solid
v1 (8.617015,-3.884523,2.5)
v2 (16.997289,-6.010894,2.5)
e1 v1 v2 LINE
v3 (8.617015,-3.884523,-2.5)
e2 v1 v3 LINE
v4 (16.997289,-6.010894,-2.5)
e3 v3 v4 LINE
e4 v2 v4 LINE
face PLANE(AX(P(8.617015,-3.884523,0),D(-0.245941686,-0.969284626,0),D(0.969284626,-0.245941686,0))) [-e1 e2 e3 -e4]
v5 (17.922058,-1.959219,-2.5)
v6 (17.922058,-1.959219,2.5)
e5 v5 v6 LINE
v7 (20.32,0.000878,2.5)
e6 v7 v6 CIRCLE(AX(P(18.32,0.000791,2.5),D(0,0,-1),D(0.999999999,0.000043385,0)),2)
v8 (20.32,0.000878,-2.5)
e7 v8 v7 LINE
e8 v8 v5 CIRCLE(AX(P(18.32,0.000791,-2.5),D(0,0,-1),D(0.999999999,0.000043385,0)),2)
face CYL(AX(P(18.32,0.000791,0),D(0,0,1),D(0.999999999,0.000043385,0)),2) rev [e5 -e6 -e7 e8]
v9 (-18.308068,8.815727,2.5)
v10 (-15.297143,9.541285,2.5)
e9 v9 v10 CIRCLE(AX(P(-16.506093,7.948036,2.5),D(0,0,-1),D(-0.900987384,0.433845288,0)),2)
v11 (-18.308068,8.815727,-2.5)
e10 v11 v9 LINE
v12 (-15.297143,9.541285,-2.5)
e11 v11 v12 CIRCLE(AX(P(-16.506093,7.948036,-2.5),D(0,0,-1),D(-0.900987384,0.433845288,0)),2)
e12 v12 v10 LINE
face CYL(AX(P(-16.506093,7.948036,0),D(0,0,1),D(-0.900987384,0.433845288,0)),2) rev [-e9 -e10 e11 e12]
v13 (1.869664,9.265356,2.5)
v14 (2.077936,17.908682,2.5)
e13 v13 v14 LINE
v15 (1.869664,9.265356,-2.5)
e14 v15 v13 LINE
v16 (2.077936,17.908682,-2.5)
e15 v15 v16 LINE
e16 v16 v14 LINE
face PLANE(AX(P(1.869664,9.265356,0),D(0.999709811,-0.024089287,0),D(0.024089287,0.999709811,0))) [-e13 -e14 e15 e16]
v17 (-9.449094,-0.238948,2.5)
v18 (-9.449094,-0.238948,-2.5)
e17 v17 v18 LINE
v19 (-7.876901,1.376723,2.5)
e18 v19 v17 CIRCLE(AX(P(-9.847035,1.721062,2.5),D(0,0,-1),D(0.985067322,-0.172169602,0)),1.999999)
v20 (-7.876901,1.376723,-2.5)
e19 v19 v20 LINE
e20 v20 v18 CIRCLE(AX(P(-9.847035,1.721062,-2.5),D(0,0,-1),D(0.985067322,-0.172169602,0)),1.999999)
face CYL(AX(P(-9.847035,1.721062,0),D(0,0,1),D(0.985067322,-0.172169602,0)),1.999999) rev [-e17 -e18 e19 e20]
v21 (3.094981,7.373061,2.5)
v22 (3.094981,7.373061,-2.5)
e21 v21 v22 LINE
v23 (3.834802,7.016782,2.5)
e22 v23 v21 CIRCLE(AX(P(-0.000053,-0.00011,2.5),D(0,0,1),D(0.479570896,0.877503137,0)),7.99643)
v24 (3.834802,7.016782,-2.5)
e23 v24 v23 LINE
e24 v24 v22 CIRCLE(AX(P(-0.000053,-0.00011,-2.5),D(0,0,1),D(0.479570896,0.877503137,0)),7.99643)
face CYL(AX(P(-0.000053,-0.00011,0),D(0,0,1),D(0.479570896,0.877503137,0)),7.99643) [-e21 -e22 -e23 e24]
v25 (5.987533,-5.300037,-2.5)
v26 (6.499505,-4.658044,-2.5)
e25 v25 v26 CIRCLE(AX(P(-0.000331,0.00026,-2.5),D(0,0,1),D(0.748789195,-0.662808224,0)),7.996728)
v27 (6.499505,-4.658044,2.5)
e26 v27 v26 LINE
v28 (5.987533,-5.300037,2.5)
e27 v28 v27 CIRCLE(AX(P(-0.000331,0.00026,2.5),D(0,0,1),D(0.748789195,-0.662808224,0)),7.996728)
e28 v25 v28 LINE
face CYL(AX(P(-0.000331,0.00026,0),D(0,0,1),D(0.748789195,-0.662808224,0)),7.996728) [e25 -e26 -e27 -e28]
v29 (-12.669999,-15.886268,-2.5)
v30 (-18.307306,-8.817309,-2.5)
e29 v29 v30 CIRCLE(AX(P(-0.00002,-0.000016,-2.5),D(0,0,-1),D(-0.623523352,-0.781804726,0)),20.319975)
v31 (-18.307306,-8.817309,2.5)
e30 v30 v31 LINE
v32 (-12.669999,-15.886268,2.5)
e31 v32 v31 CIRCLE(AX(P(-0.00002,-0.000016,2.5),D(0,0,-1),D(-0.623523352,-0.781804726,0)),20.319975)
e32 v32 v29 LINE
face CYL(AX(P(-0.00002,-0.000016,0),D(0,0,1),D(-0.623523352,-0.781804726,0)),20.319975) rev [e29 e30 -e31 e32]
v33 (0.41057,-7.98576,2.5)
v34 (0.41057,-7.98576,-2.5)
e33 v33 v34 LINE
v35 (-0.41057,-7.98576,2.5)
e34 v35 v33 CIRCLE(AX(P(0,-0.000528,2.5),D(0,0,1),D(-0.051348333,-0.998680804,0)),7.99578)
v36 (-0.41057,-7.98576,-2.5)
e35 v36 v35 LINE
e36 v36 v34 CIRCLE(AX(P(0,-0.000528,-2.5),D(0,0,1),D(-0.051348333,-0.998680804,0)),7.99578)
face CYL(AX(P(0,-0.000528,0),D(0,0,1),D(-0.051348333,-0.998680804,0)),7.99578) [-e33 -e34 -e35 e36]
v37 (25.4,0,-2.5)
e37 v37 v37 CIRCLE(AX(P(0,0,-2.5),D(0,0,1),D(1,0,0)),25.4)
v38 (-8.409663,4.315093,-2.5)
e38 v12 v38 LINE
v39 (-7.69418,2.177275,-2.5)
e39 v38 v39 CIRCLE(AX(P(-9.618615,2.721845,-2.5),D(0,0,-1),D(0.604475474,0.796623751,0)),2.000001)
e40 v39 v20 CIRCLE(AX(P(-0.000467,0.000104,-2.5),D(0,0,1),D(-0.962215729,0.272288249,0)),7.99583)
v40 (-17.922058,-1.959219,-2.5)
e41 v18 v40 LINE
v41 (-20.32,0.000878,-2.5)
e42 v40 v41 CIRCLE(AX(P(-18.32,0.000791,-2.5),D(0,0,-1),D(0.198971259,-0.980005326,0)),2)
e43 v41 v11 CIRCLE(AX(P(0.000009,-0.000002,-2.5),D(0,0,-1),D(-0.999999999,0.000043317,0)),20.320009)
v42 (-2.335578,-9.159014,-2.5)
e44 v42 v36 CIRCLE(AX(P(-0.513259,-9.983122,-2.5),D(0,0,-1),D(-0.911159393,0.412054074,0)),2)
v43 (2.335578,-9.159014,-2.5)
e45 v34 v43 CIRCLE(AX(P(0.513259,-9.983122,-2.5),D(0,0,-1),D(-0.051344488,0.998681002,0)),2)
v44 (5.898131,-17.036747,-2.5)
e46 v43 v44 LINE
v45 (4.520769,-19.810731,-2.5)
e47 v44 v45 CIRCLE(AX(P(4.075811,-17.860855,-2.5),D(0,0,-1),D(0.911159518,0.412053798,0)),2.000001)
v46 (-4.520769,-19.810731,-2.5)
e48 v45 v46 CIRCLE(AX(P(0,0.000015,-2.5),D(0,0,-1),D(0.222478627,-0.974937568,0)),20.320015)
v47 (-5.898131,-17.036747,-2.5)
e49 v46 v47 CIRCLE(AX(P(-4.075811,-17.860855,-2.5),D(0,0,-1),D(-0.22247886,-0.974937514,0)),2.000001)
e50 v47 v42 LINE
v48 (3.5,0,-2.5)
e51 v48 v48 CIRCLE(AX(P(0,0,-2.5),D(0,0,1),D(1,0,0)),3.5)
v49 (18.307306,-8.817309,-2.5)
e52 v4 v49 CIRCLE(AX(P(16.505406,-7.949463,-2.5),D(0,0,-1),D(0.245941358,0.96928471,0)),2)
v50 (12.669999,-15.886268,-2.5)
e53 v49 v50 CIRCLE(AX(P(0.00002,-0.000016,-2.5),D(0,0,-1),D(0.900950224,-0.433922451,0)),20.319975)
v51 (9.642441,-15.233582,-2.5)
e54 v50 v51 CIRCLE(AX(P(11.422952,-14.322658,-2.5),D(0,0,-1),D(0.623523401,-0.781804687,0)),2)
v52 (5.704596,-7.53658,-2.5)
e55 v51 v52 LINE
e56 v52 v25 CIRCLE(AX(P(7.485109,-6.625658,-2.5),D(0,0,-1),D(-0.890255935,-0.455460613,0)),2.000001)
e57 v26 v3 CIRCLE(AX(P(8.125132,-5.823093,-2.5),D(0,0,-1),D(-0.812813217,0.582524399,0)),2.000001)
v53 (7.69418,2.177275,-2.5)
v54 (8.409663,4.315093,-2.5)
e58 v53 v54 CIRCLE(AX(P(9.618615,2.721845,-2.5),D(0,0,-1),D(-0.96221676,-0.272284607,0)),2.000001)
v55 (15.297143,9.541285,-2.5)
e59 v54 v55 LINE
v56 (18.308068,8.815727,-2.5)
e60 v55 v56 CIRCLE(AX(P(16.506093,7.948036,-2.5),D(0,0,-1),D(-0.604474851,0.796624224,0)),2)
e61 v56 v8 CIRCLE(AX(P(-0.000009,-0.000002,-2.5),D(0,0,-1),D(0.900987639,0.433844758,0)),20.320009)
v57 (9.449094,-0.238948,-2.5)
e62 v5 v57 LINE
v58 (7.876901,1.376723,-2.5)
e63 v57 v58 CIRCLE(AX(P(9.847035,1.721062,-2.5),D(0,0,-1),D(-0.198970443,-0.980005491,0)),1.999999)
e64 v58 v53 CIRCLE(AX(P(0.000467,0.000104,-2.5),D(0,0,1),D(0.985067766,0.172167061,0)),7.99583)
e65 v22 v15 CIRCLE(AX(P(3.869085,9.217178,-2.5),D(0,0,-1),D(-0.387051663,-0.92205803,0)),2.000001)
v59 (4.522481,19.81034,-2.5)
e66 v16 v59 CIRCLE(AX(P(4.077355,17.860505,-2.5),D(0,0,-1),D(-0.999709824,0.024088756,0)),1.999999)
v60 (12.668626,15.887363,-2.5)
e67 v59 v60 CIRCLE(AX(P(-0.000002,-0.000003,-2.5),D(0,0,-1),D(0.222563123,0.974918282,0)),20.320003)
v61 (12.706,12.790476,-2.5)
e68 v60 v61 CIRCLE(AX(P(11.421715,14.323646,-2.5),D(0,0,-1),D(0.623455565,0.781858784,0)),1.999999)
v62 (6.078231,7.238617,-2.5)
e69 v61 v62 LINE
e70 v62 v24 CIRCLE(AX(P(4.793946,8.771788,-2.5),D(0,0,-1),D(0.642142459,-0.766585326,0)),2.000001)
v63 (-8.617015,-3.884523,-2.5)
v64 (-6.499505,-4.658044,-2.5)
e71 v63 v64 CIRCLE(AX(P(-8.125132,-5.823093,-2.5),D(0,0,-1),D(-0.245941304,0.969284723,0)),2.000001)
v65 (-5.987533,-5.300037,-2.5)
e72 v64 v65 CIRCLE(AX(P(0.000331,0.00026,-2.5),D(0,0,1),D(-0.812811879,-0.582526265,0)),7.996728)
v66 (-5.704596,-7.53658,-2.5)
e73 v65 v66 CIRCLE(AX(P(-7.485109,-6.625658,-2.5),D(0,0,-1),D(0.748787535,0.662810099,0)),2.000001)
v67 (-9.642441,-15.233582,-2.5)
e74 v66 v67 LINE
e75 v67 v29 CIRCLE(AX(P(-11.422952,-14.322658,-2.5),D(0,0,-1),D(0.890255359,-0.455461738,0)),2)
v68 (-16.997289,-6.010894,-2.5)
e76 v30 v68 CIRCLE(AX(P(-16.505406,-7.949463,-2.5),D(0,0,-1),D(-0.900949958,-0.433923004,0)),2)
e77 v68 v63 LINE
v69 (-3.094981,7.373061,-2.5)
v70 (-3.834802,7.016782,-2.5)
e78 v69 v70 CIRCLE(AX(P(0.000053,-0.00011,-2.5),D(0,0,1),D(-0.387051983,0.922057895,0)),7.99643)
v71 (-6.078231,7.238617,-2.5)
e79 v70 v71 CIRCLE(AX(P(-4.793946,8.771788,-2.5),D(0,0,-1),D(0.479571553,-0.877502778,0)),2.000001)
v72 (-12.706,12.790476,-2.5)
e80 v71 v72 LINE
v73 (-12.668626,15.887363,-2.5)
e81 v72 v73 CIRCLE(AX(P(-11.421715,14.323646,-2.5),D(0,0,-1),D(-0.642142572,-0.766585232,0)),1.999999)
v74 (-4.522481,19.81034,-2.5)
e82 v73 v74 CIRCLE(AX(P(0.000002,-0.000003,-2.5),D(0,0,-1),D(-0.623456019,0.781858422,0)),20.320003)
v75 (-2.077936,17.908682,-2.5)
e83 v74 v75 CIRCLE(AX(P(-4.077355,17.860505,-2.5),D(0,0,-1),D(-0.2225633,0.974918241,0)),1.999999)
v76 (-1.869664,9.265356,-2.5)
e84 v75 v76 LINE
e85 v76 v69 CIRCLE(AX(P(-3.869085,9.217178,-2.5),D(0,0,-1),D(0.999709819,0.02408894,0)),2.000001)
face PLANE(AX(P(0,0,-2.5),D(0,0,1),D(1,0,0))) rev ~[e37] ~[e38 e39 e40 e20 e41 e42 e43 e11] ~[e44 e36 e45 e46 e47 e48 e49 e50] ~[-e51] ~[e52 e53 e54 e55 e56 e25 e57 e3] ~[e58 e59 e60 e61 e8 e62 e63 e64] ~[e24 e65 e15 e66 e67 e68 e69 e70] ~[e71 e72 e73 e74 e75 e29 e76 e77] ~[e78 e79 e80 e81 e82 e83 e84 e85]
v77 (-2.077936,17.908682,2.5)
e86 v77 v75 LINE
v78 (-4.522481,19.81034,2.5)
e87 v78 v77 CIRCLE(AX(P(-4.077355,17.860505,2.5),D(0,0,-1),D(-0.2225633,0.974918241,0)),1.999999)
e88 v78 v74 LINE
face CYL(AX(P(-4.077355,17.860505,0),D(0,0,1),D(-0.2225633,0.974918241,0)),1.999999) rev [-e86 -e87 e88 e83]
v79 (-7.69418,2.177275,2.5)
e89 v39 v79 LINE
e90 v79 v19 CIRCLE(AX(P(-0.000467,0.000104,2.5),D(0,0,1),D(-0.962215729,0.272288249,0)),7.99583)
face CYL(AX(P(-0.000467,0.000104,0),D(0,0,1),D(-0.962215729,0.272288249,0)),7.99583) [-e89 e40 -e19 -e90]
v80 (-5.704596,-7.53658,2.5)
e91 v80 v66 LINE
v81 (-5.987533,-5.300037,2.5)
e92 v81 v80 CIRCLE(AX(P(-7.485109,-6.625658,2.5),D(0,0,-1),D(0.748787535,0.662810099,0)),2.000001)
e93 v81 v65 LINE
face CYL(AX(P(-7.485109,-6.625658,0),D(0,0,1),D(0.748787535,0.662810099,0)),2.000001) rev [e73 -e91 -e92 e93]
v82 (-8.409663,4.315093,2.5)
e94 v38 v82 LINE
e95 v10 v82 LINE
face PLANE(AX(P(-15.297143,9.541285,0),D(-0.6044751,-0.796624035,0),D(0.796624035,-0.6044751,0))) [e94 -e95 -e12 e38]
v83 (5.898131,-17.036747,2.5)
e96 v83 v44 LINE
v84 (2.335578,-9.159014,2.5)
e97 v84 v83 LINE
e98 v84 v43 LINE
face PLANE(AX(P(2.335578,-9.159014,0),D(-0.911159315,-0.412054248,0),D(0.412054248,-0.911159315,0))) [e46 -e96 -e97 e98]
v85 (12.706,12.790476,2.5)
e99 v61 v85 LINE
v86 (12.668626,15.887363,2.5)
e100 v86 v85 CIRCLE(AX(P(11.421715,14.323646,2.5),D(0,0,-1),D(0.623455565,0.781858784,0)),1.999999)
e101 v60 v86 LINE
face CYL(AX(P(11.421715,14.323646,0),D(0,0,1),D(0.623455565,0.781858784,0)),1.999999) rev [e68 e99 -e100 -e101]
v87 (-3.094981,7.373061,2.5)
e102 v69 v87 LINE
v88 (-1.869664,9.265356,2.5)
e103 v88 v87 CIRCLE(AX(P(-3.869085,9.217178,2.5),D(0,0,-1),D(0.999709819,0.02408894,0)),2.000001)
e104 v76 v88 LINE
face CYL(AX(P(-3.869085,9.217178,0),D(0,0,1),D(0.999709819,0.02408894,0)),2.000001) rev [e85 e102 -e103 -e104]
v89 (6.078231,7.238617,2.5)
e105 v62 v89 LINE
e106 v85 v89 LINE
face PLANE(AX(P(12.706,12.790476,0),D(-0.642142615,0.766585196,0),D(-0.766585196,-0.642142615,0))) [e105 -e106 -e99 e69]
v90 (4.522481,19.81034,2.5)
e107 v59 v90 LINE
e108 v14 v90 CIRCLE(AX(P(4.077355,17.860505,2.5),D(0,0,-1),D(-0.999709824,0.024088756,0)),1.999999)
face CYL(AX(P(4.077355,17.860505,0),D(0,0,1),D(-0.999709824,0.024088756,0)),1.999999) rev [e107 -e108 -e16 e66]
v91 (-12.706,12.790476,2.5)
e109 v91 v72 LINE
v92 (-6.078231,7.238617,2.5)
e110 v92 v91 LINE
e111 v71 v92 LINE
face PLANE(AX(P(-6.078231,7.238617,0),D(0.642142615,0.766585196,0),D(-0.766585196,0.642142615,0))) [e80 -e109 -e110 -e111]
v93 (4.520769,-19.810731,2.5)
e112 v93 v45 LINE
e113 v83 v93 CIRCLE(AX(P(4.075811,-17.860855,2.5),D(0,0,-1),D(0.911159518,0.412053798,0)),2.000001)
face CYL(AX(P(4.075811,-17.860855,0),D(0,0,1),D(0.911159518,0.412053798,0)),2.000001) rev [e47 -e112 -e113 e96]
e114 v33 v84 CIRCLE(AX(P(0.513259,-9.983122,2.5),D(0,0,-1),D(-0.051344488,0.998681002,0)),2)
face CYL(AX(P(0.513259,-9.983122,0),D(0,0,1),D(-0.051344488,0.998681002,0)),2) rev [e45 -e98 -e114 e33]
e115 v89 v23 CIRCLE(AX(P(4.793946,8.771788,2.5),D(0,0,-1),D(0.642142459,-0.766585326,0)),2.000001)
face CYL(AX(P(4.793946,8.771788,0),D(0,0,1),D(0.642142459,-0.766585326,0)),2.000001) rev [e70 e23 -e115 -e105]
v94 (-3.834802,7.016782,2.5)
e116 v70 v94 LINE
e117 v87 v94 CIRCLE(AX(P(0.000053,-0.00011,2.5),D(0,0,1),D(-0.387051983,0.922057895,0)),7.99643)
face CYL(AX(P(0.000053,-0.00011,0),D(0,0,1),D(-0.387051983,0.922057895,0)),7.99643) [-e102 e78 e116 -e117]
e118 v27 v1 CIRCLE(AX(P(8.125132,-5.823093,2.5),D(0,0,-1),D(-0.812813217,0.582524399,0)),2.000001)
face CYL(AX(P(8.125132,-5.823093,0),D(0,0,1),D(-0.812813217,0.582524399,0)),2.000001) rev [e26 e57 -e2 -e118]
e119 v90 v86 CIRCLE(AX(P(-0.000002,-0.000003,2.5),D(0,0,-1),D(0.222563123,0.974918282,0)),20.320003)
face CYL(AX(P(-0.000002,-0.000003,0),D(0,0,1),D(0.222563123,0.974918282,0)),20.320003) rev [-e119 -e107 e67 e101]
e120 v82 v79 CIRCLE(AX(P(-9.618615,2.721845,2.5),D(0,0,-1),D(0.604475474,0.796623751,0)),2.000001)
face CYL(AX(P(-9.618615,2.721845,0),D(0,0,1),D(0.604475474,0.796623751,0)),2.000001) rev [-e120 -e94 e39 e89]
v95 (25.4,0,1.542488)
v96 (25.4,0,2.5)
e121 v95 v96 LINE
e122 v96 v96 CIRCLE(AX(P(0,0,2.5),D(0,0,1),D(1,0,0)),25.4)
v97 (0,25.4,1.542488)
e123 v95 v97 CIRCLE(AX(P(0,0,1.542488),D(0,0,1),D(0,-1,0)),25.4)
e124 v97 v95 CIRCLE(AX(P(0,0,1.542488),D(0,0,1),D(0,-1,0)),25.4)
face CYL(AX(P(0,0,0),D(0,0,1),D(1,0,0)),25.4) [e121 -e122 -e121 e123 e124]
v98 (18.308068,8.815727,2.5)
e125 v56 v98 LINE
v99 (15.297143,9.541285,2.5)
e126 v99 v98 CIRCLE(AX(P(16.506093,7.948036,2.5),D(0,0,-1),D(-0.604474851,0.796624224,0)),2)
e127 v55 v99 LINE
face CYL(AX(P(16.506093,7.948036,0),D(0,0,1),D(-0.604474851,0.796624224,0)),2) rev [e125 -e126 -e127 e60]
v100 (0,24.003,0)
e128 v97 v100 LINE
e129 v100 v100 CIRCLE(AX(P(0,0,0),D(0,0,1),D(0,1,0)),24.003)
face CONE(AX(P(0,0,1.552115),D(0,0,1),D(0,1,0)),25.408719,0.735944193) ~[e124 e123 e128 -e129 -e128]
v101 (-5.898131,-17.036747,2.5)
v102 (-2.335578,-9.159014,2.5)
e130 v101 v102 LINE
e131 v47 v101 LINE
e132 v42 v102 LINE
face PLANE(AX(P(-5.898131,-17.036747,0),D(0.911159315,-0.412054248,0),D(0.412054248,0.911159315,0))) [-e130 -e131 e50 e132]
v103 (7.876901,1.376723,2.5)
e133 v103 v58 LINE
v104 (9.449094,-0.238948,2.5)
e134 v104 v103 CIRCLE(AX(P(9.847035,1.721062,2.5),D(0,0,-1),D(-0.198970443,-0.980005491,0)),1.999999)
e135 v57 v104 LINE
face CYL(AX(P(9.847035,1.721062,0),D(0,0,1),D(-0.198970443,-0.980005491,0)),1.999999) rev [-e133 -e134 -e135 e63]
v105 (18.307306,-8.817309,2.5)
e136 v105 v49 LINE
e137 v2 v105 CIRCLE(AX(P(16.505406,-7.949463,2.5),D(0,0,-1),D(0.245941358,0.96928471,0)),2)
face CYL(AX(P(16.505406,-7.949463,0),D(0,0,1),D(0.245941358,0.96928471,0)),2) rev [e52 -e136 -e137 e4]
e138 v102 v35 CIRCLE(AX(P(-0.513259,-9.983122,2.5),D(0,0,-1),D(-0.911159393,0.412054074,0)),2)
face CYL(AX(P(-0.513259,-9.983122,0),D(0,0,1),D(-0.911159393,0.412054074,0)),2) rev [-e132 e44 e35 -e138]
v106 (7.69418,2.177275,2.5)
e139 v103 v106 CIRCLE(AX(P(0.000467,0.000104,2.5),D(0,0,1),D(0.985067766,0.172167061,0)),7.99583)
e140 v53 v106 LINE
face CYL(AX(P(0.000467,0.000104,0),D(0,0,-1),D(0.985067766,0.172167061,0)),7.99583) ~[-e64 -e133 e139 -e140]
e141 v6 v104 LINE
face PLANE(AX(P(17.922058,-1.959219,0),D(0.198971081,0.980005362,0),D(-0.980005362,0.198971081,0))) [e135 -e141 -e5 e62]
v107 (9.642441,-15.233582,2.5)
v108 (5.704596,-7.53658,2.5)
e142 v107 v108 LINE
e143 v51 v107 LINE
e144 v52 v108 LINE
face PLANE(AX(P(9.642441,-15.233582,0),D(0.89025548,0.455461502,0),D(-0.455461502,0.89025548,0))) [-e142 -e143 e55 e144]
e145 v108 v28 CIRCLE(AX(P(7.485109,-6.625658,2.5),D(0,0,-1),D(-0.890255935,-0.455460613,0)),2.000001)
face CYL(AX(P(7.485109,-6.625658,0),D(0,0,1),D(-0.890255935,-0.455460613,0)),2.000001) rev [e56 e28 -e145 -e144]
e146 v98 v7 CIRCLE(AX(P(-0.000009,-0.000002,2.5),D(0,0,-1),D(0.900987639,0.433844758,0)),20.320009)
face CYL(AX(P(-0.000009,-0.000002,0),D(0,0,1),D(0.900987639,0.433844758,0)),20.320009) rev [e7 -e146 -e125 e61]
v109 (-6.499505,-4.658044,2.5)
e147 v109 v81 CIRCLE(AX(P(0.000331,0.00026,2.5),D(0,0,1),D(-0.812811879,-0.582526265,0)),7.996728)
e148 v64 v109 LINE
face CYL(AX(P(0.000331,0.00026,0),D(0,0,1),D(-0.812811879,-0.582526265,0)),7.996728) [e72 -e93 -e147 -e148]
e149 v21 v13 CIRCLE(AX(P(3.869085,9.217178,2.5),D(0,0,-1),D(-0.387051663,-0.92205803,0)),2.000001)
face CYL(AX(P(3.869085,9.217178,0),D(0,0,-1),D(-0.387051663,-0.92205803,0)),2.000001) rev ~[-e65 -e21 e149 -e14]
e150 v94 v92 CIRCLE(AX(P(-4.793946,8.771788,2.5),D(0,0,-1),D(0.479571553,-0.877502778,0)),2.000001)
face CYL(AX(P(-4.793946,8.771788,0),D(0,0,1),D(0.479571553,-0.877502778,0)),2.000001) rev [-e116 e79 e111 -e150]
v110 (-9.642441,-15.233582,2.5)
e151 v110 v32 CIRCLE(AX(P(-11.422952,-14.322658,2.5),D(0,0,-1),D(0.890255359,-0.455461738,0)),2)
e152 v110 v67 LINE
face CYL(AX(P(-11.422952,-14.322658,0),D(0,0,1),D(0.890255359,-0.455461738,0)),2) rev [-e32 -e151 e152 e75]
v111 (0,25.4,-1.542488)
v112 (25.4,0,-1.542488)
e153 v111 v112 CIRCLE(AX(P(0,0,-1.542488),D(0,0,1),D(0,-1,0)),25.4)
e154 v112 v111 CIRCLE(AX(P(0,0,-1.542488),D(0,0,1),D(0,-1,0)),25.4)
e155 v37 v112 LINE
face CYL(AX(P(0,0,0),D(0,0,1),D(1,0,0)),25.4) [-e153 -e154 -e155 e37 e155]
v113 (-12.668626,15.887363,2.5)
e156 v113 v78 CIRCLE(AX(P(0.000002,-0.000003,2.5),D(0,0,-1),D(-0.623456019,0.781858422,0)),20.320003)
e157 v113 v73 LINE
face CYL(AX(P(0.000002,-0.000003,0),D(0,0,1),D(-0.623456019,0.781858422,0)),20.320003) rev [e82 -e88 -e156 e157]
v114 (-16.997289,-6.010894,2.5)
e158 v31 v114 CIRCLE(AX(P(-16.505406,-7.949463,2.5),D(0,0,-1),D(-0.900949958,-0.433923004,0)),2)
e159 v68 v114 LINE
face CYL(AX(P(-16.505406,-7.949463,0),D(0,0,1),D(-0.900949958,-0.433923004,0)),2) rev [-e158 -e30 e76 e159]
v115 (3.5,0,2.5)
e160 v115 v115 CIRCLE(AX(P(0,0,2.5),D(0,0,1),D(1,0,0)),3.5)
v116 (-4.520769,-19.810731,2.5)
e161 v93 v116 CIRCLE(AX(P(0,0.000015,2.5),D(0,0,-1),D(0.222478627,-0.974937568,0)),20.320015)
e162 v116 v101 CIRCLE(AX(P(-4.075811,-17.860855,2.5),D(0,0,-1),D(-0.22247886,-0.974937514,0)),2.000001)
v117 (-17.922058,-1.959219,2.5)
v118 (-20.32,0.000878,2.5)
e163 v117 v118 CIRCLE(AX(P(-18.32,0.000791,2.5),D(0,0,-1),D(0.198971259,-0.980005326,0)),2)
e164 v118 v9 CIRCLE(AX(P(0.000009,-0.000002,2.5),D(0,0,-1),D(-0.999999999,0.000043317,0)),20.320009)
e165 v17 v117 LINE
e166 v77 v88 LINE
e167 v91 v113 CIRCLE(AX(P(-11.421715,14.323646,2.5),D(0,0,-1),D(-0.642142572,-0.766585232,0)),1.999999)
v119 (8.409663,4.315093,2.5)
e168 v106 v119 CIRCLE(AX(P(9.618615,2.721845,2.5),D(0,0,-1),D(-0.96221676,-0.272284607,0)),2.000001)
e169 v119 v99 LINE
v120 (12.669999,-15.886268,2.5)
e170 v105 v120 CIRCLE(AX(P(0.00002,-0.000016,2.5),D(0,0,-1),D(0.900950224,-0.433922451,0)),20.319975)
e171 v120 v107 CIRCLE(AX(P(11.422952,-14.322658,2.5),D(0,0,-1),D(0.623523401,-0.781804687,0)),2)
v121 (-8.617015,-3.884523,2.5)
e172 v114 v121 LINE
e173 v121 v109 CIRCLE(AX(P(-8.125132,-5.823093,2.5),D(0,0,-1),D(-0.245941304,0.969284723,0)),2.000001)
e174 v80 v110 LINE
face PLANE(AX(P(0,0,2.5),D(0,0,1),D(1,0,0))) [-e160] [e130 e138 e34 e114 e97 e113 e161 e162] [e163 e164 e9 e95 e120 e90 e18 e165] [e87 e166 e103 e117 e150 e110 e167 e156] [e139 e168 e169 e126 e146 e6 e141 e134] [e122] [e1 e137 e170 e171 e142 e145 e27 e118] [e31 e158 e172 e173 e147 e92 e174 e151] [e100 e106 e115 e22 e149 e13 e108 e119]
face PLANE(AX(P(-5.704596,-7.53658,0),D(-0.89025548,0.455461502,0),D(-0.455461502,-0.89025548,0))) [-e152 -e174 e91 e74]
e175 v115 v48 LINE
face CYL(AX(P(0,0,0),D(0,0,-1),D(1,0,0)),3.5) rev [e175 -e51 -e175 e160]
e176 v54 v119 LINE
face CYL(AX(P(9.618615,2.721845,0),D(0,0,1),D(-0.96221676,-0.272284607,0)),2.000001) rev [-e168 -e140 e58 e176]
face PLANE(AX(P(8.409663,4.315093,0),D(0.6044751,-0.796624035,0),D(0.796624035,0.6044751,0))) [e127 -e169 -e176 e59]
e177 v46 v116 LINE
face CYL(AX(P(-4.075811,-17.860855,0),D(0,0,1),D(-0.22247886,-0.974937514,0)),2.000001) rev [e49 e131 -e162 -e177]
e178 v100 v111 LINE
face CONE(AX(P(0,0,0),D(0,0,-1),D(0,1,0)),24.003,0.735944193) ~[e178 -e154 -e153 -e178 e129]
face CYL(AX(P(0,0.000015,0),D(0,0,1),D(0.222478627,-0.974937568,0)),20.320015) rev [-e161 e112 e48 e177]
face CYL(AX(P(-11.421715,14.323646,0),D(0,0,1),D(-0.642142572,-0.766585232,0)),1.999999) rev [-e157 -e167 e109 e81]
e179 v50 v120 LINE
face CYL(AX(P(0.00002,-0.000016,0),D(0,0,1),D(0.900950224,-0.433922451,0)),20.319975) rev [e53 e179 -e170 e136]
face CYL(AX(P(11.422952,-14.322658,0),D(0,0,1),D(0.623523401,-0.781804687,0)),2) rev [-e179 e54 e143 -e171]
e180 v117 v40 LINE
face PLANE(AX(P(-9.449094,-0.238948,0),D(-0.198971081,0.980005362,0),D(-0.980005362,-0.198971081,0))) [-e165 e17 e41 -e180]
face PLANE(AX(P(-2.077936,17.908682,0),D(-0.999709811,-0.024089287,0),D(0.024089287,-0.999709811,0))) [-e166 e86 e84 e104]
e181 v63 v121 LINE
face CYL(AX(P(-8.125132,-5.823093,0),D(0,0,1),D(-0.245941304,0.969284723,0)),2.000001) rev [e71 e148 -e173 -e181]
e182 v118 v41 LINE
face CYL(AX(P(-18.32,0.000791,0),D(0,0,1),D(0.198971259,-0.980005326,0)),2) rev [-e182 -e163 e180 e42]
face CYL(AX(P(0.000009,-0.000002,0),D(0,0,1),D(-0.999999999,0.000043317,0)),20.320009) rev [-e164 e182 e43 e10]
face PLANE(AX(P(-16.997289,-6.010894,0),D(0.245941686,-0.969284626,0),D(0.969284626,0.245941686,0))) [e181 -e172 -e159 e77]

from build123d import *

# Parameters (mm, degrees)
F0_R     = 25.4
F0_R_2   = 3.5
F1_DEPTH = 2.5


with BuildPart() as f1:
    # F0 (on Top) → F1 (new body, symmetric)
    with BuildSketch(Plane.XY):
        Circle(F0_R)
        with BuildLine():
            ThreePointArc((-4.520769, -19.810731), (-5.867147, -18.750304), (-5.898131, -17.036747))
            Line((-5.898131, -17.036747), (-2.335578, -9.159014))
            ThreePointArc((-2.335578, -9.159014), (-1.55413, -8.27532), (-0.41057, -7.98576))
            ThreePointArc((-0.41057, -7.98576), (0, -7.996308), (0.41057, -7.98576))
            ThreePointArc((0.41057, -7.98576), (1.55413, -8.27532), (2.335578, -9.159014))
            Line((2.335578, -9.159014), (5.898131, -17.036747))
            ThreePointArc((5.898131, -17.036747), (5.867147, -18.750304), (4.520769, -19.810731))
            ThreePointArc((4.520769, -19.810731), (0, -20.32), (-4.520769, -19.810731))
        make_face(mode=Mode.SUBTRACT)
        with BuildLine():
            ThreePointArc((-18.307306, -8.817309), (-18.317684, -7.103503), (-16.997289, -6.010894))
            Line((-16.997289, -6.010894), (-8.617015, -3.884523))
            ThreePointArc((-8.617015, -3.884523), (-7.43889, -3.94451), (-6.499505, -4.658044))
            ThreePointArc((-6.499505, -4.658044), (-6.251765, -4.985616), (-5.987533, -5.300037))
            ThreePointArc((-5.987533, -5.300037), (-5.500922, -6.374646), (-5.704596, -7.53658))
            Line((-5.704596, -7.53658), (-9.642441, -15.233582))
            ThreePointArc((-9.642441, -15.233582), (-11.001472, -16.277743), (-12.669999, -15.886268))
            ThreePointArc((-12.669999, -15.886268), (-15.886816, -12.669313), (-18.307306, -8.817309))
        make_face(mode=Mode.SUBTRACT)
        Circle(F0_R_2, mode=Mode.SUBTRACT)
        with BuildLine():
            ThreePointArc((12.669999, -15.886268), (11.001472, -16.277743), (9.642441, -15.233582))
            Line((9.642441, -15.233582), (5.704596, -7.53658))
            ThreePointArc((5.704596, -7.53658), (5.500922, -6.374646), (5.987533, -5.300037))
            ThreePointArc((5.987533, -5.300037), (6.251765, -4.985616), (6.499505, -4.658044))
            ThreePointArc((6.499505, -4.658044), (7.43889, -3.94451), (8.617015, -3.884523))
            Line((8.617015, -3.884523), (16.997289, -6.010894))
            ThreePointArc((16.997289, -6.010894), (18.317684, -7.103503), (18.307306, -8.817309))
            ThreePointArc((18.307306, -8.817309), (15.886816, -12.669313), (12.669999, -15.886268))
        make_face(mode=Mode.SUBTRACT)
        with BuildLine():
            ThreePointArc((-18.308068, 8.815727), (-16.974632, 9.89238), (-15.297143, 9.541285))
            Line((-15.297143, 9.541285), (-8.409663, 4.315093))
            ThreePointArc((-8.409663, 4.315093), (-7.722014, 3.356597), (-7.69418, 2.177275))
            ThreePointArc((-7.69418, 2.177275), (-7.795824, 1.779346), (-7.876901, 1.376723))
            ThreePointArc((-7.876901, 1.376723), (-8.413667, 0.326267), (-9.449094, -0.238948))
            Line((-9.449094, -0.238948), (-17.922058, -1.959219))
            ThreePointArc((-17.922058, -1.959219), (-19.585758, -1.54771), (-20.32, 0.000878))
            ThreePointArc((-20.32, 0.000878), (-19.810535, 4.521625), (-18.308068, 8.815727))
        make_face(mode=Mode.SUBTRACT)
        with BuildLine():
            ThreePointArc((-1.869664, 9.265356), (-2.190304, 8.130118), (-3.094981, 7.373061))
            ThreePointArc((-3.094981, 7.373061), (-3.469468, 7.204424), (-3.834802, 7.016782))
            ThreePointArc((-3.834802, 7.016782), (-4.99075, 6.781494), (-6.078231, 7.238617))
            Line((-6.078231, 7.238617), (-12.706, 12.790476))
            ThreePointArc((-12.706, 12.790476), (-13.421569, 14.34778), (-12.668626, 15.887363))
            ThreePointArc((-12.668626, 15.887363), (-8.816518, 18.307687), (-4.522481, 19.81034))
            ThreePointArc((-4.522481, 19.81034), (-2.849335, 19.4391), (-2.077936, 17.908682))
            Line((-2.077936, 17.908682), (-1.869664, 9.265356))
        make_face(mode=Mode.SUBTRACT)
        with BuildLine():
            ThreePointArc((20.32, 0.000878), (19.585758, -1.54771), (17.922058, -1.959219))
            Line((17.922058, -1.959219), (9.449094, -0.238948))
            ThreePointArc((9.449094, -0.238948), (8.413667, 0.326267), (7.876901, 1.376723))
            ThreePointArc((7.876901, 1.376723), (7.795824, 1.779346), (7.69418, 2.177275))
            ThreePointArc((7.69418, 2.177275), (7.722014, 3.356597), (8.409663, 4.315093))
            Line((8.409663, 4.315093), (15.297143, 9.541285))
            ThreePointArc((15.297143, 9.541285), (16.974632, 9.89238), (18.308068, 8.815727))
            ThreePointArc((18.308068, 8.815727), (19.810535, 4.521625), (20.32, 0.000878))
        make_face(mode=Mode.SUBTRACT)
        with BuildLine():
            ThreePointArc((3.094981, 7.373061), (2.190304, 8.130118), (1.869664, 9.265356))
            Line((1.869664, 9.265356), (2.077936, 17.908682))
            ThreePointArc((2.077936, 17.908682), (2.849335, 19.4391), (4.522481, 19.81034))
            ThreePointArc((4.522481, 19.81034), (8.816518, 18.307687), (12.668626, 15.887363))
            ThreePointArc((12.668626, 15.887363), (13.421569, 14.34778), (12.706, 12.790476))
            Line((12.706, 12.790476), (6.078231, 7.238617))
            ThreePointArc((6.078231, 7.238617), (4.99075, 6.781494), (3.834802, 7.016782))
            ThreePointArc((3.834802, 7.016782), (3.469468, 7.204424), (3.094981, 7.373061))
        make_face(mode=Mode.SUBTRACT)
    extrude(amount=F1_DEPTH, both=True)

    # F2 (on Right) → F3 (revolve, cut)
    with BuildSketch(Plane.YZ):
        Polygon((25.408719, -1.552115), (25.503, 0), (24.003, 0), align=None)
        Polygon((24.003, 0), (25.503, 0), (25.408719, 1.552115), align=None)
    revolve(axis=Axis((0, 0, 1.759876), (0, 0, 1)), mode=Mode.SUBTRACT)


solid = f1.part
